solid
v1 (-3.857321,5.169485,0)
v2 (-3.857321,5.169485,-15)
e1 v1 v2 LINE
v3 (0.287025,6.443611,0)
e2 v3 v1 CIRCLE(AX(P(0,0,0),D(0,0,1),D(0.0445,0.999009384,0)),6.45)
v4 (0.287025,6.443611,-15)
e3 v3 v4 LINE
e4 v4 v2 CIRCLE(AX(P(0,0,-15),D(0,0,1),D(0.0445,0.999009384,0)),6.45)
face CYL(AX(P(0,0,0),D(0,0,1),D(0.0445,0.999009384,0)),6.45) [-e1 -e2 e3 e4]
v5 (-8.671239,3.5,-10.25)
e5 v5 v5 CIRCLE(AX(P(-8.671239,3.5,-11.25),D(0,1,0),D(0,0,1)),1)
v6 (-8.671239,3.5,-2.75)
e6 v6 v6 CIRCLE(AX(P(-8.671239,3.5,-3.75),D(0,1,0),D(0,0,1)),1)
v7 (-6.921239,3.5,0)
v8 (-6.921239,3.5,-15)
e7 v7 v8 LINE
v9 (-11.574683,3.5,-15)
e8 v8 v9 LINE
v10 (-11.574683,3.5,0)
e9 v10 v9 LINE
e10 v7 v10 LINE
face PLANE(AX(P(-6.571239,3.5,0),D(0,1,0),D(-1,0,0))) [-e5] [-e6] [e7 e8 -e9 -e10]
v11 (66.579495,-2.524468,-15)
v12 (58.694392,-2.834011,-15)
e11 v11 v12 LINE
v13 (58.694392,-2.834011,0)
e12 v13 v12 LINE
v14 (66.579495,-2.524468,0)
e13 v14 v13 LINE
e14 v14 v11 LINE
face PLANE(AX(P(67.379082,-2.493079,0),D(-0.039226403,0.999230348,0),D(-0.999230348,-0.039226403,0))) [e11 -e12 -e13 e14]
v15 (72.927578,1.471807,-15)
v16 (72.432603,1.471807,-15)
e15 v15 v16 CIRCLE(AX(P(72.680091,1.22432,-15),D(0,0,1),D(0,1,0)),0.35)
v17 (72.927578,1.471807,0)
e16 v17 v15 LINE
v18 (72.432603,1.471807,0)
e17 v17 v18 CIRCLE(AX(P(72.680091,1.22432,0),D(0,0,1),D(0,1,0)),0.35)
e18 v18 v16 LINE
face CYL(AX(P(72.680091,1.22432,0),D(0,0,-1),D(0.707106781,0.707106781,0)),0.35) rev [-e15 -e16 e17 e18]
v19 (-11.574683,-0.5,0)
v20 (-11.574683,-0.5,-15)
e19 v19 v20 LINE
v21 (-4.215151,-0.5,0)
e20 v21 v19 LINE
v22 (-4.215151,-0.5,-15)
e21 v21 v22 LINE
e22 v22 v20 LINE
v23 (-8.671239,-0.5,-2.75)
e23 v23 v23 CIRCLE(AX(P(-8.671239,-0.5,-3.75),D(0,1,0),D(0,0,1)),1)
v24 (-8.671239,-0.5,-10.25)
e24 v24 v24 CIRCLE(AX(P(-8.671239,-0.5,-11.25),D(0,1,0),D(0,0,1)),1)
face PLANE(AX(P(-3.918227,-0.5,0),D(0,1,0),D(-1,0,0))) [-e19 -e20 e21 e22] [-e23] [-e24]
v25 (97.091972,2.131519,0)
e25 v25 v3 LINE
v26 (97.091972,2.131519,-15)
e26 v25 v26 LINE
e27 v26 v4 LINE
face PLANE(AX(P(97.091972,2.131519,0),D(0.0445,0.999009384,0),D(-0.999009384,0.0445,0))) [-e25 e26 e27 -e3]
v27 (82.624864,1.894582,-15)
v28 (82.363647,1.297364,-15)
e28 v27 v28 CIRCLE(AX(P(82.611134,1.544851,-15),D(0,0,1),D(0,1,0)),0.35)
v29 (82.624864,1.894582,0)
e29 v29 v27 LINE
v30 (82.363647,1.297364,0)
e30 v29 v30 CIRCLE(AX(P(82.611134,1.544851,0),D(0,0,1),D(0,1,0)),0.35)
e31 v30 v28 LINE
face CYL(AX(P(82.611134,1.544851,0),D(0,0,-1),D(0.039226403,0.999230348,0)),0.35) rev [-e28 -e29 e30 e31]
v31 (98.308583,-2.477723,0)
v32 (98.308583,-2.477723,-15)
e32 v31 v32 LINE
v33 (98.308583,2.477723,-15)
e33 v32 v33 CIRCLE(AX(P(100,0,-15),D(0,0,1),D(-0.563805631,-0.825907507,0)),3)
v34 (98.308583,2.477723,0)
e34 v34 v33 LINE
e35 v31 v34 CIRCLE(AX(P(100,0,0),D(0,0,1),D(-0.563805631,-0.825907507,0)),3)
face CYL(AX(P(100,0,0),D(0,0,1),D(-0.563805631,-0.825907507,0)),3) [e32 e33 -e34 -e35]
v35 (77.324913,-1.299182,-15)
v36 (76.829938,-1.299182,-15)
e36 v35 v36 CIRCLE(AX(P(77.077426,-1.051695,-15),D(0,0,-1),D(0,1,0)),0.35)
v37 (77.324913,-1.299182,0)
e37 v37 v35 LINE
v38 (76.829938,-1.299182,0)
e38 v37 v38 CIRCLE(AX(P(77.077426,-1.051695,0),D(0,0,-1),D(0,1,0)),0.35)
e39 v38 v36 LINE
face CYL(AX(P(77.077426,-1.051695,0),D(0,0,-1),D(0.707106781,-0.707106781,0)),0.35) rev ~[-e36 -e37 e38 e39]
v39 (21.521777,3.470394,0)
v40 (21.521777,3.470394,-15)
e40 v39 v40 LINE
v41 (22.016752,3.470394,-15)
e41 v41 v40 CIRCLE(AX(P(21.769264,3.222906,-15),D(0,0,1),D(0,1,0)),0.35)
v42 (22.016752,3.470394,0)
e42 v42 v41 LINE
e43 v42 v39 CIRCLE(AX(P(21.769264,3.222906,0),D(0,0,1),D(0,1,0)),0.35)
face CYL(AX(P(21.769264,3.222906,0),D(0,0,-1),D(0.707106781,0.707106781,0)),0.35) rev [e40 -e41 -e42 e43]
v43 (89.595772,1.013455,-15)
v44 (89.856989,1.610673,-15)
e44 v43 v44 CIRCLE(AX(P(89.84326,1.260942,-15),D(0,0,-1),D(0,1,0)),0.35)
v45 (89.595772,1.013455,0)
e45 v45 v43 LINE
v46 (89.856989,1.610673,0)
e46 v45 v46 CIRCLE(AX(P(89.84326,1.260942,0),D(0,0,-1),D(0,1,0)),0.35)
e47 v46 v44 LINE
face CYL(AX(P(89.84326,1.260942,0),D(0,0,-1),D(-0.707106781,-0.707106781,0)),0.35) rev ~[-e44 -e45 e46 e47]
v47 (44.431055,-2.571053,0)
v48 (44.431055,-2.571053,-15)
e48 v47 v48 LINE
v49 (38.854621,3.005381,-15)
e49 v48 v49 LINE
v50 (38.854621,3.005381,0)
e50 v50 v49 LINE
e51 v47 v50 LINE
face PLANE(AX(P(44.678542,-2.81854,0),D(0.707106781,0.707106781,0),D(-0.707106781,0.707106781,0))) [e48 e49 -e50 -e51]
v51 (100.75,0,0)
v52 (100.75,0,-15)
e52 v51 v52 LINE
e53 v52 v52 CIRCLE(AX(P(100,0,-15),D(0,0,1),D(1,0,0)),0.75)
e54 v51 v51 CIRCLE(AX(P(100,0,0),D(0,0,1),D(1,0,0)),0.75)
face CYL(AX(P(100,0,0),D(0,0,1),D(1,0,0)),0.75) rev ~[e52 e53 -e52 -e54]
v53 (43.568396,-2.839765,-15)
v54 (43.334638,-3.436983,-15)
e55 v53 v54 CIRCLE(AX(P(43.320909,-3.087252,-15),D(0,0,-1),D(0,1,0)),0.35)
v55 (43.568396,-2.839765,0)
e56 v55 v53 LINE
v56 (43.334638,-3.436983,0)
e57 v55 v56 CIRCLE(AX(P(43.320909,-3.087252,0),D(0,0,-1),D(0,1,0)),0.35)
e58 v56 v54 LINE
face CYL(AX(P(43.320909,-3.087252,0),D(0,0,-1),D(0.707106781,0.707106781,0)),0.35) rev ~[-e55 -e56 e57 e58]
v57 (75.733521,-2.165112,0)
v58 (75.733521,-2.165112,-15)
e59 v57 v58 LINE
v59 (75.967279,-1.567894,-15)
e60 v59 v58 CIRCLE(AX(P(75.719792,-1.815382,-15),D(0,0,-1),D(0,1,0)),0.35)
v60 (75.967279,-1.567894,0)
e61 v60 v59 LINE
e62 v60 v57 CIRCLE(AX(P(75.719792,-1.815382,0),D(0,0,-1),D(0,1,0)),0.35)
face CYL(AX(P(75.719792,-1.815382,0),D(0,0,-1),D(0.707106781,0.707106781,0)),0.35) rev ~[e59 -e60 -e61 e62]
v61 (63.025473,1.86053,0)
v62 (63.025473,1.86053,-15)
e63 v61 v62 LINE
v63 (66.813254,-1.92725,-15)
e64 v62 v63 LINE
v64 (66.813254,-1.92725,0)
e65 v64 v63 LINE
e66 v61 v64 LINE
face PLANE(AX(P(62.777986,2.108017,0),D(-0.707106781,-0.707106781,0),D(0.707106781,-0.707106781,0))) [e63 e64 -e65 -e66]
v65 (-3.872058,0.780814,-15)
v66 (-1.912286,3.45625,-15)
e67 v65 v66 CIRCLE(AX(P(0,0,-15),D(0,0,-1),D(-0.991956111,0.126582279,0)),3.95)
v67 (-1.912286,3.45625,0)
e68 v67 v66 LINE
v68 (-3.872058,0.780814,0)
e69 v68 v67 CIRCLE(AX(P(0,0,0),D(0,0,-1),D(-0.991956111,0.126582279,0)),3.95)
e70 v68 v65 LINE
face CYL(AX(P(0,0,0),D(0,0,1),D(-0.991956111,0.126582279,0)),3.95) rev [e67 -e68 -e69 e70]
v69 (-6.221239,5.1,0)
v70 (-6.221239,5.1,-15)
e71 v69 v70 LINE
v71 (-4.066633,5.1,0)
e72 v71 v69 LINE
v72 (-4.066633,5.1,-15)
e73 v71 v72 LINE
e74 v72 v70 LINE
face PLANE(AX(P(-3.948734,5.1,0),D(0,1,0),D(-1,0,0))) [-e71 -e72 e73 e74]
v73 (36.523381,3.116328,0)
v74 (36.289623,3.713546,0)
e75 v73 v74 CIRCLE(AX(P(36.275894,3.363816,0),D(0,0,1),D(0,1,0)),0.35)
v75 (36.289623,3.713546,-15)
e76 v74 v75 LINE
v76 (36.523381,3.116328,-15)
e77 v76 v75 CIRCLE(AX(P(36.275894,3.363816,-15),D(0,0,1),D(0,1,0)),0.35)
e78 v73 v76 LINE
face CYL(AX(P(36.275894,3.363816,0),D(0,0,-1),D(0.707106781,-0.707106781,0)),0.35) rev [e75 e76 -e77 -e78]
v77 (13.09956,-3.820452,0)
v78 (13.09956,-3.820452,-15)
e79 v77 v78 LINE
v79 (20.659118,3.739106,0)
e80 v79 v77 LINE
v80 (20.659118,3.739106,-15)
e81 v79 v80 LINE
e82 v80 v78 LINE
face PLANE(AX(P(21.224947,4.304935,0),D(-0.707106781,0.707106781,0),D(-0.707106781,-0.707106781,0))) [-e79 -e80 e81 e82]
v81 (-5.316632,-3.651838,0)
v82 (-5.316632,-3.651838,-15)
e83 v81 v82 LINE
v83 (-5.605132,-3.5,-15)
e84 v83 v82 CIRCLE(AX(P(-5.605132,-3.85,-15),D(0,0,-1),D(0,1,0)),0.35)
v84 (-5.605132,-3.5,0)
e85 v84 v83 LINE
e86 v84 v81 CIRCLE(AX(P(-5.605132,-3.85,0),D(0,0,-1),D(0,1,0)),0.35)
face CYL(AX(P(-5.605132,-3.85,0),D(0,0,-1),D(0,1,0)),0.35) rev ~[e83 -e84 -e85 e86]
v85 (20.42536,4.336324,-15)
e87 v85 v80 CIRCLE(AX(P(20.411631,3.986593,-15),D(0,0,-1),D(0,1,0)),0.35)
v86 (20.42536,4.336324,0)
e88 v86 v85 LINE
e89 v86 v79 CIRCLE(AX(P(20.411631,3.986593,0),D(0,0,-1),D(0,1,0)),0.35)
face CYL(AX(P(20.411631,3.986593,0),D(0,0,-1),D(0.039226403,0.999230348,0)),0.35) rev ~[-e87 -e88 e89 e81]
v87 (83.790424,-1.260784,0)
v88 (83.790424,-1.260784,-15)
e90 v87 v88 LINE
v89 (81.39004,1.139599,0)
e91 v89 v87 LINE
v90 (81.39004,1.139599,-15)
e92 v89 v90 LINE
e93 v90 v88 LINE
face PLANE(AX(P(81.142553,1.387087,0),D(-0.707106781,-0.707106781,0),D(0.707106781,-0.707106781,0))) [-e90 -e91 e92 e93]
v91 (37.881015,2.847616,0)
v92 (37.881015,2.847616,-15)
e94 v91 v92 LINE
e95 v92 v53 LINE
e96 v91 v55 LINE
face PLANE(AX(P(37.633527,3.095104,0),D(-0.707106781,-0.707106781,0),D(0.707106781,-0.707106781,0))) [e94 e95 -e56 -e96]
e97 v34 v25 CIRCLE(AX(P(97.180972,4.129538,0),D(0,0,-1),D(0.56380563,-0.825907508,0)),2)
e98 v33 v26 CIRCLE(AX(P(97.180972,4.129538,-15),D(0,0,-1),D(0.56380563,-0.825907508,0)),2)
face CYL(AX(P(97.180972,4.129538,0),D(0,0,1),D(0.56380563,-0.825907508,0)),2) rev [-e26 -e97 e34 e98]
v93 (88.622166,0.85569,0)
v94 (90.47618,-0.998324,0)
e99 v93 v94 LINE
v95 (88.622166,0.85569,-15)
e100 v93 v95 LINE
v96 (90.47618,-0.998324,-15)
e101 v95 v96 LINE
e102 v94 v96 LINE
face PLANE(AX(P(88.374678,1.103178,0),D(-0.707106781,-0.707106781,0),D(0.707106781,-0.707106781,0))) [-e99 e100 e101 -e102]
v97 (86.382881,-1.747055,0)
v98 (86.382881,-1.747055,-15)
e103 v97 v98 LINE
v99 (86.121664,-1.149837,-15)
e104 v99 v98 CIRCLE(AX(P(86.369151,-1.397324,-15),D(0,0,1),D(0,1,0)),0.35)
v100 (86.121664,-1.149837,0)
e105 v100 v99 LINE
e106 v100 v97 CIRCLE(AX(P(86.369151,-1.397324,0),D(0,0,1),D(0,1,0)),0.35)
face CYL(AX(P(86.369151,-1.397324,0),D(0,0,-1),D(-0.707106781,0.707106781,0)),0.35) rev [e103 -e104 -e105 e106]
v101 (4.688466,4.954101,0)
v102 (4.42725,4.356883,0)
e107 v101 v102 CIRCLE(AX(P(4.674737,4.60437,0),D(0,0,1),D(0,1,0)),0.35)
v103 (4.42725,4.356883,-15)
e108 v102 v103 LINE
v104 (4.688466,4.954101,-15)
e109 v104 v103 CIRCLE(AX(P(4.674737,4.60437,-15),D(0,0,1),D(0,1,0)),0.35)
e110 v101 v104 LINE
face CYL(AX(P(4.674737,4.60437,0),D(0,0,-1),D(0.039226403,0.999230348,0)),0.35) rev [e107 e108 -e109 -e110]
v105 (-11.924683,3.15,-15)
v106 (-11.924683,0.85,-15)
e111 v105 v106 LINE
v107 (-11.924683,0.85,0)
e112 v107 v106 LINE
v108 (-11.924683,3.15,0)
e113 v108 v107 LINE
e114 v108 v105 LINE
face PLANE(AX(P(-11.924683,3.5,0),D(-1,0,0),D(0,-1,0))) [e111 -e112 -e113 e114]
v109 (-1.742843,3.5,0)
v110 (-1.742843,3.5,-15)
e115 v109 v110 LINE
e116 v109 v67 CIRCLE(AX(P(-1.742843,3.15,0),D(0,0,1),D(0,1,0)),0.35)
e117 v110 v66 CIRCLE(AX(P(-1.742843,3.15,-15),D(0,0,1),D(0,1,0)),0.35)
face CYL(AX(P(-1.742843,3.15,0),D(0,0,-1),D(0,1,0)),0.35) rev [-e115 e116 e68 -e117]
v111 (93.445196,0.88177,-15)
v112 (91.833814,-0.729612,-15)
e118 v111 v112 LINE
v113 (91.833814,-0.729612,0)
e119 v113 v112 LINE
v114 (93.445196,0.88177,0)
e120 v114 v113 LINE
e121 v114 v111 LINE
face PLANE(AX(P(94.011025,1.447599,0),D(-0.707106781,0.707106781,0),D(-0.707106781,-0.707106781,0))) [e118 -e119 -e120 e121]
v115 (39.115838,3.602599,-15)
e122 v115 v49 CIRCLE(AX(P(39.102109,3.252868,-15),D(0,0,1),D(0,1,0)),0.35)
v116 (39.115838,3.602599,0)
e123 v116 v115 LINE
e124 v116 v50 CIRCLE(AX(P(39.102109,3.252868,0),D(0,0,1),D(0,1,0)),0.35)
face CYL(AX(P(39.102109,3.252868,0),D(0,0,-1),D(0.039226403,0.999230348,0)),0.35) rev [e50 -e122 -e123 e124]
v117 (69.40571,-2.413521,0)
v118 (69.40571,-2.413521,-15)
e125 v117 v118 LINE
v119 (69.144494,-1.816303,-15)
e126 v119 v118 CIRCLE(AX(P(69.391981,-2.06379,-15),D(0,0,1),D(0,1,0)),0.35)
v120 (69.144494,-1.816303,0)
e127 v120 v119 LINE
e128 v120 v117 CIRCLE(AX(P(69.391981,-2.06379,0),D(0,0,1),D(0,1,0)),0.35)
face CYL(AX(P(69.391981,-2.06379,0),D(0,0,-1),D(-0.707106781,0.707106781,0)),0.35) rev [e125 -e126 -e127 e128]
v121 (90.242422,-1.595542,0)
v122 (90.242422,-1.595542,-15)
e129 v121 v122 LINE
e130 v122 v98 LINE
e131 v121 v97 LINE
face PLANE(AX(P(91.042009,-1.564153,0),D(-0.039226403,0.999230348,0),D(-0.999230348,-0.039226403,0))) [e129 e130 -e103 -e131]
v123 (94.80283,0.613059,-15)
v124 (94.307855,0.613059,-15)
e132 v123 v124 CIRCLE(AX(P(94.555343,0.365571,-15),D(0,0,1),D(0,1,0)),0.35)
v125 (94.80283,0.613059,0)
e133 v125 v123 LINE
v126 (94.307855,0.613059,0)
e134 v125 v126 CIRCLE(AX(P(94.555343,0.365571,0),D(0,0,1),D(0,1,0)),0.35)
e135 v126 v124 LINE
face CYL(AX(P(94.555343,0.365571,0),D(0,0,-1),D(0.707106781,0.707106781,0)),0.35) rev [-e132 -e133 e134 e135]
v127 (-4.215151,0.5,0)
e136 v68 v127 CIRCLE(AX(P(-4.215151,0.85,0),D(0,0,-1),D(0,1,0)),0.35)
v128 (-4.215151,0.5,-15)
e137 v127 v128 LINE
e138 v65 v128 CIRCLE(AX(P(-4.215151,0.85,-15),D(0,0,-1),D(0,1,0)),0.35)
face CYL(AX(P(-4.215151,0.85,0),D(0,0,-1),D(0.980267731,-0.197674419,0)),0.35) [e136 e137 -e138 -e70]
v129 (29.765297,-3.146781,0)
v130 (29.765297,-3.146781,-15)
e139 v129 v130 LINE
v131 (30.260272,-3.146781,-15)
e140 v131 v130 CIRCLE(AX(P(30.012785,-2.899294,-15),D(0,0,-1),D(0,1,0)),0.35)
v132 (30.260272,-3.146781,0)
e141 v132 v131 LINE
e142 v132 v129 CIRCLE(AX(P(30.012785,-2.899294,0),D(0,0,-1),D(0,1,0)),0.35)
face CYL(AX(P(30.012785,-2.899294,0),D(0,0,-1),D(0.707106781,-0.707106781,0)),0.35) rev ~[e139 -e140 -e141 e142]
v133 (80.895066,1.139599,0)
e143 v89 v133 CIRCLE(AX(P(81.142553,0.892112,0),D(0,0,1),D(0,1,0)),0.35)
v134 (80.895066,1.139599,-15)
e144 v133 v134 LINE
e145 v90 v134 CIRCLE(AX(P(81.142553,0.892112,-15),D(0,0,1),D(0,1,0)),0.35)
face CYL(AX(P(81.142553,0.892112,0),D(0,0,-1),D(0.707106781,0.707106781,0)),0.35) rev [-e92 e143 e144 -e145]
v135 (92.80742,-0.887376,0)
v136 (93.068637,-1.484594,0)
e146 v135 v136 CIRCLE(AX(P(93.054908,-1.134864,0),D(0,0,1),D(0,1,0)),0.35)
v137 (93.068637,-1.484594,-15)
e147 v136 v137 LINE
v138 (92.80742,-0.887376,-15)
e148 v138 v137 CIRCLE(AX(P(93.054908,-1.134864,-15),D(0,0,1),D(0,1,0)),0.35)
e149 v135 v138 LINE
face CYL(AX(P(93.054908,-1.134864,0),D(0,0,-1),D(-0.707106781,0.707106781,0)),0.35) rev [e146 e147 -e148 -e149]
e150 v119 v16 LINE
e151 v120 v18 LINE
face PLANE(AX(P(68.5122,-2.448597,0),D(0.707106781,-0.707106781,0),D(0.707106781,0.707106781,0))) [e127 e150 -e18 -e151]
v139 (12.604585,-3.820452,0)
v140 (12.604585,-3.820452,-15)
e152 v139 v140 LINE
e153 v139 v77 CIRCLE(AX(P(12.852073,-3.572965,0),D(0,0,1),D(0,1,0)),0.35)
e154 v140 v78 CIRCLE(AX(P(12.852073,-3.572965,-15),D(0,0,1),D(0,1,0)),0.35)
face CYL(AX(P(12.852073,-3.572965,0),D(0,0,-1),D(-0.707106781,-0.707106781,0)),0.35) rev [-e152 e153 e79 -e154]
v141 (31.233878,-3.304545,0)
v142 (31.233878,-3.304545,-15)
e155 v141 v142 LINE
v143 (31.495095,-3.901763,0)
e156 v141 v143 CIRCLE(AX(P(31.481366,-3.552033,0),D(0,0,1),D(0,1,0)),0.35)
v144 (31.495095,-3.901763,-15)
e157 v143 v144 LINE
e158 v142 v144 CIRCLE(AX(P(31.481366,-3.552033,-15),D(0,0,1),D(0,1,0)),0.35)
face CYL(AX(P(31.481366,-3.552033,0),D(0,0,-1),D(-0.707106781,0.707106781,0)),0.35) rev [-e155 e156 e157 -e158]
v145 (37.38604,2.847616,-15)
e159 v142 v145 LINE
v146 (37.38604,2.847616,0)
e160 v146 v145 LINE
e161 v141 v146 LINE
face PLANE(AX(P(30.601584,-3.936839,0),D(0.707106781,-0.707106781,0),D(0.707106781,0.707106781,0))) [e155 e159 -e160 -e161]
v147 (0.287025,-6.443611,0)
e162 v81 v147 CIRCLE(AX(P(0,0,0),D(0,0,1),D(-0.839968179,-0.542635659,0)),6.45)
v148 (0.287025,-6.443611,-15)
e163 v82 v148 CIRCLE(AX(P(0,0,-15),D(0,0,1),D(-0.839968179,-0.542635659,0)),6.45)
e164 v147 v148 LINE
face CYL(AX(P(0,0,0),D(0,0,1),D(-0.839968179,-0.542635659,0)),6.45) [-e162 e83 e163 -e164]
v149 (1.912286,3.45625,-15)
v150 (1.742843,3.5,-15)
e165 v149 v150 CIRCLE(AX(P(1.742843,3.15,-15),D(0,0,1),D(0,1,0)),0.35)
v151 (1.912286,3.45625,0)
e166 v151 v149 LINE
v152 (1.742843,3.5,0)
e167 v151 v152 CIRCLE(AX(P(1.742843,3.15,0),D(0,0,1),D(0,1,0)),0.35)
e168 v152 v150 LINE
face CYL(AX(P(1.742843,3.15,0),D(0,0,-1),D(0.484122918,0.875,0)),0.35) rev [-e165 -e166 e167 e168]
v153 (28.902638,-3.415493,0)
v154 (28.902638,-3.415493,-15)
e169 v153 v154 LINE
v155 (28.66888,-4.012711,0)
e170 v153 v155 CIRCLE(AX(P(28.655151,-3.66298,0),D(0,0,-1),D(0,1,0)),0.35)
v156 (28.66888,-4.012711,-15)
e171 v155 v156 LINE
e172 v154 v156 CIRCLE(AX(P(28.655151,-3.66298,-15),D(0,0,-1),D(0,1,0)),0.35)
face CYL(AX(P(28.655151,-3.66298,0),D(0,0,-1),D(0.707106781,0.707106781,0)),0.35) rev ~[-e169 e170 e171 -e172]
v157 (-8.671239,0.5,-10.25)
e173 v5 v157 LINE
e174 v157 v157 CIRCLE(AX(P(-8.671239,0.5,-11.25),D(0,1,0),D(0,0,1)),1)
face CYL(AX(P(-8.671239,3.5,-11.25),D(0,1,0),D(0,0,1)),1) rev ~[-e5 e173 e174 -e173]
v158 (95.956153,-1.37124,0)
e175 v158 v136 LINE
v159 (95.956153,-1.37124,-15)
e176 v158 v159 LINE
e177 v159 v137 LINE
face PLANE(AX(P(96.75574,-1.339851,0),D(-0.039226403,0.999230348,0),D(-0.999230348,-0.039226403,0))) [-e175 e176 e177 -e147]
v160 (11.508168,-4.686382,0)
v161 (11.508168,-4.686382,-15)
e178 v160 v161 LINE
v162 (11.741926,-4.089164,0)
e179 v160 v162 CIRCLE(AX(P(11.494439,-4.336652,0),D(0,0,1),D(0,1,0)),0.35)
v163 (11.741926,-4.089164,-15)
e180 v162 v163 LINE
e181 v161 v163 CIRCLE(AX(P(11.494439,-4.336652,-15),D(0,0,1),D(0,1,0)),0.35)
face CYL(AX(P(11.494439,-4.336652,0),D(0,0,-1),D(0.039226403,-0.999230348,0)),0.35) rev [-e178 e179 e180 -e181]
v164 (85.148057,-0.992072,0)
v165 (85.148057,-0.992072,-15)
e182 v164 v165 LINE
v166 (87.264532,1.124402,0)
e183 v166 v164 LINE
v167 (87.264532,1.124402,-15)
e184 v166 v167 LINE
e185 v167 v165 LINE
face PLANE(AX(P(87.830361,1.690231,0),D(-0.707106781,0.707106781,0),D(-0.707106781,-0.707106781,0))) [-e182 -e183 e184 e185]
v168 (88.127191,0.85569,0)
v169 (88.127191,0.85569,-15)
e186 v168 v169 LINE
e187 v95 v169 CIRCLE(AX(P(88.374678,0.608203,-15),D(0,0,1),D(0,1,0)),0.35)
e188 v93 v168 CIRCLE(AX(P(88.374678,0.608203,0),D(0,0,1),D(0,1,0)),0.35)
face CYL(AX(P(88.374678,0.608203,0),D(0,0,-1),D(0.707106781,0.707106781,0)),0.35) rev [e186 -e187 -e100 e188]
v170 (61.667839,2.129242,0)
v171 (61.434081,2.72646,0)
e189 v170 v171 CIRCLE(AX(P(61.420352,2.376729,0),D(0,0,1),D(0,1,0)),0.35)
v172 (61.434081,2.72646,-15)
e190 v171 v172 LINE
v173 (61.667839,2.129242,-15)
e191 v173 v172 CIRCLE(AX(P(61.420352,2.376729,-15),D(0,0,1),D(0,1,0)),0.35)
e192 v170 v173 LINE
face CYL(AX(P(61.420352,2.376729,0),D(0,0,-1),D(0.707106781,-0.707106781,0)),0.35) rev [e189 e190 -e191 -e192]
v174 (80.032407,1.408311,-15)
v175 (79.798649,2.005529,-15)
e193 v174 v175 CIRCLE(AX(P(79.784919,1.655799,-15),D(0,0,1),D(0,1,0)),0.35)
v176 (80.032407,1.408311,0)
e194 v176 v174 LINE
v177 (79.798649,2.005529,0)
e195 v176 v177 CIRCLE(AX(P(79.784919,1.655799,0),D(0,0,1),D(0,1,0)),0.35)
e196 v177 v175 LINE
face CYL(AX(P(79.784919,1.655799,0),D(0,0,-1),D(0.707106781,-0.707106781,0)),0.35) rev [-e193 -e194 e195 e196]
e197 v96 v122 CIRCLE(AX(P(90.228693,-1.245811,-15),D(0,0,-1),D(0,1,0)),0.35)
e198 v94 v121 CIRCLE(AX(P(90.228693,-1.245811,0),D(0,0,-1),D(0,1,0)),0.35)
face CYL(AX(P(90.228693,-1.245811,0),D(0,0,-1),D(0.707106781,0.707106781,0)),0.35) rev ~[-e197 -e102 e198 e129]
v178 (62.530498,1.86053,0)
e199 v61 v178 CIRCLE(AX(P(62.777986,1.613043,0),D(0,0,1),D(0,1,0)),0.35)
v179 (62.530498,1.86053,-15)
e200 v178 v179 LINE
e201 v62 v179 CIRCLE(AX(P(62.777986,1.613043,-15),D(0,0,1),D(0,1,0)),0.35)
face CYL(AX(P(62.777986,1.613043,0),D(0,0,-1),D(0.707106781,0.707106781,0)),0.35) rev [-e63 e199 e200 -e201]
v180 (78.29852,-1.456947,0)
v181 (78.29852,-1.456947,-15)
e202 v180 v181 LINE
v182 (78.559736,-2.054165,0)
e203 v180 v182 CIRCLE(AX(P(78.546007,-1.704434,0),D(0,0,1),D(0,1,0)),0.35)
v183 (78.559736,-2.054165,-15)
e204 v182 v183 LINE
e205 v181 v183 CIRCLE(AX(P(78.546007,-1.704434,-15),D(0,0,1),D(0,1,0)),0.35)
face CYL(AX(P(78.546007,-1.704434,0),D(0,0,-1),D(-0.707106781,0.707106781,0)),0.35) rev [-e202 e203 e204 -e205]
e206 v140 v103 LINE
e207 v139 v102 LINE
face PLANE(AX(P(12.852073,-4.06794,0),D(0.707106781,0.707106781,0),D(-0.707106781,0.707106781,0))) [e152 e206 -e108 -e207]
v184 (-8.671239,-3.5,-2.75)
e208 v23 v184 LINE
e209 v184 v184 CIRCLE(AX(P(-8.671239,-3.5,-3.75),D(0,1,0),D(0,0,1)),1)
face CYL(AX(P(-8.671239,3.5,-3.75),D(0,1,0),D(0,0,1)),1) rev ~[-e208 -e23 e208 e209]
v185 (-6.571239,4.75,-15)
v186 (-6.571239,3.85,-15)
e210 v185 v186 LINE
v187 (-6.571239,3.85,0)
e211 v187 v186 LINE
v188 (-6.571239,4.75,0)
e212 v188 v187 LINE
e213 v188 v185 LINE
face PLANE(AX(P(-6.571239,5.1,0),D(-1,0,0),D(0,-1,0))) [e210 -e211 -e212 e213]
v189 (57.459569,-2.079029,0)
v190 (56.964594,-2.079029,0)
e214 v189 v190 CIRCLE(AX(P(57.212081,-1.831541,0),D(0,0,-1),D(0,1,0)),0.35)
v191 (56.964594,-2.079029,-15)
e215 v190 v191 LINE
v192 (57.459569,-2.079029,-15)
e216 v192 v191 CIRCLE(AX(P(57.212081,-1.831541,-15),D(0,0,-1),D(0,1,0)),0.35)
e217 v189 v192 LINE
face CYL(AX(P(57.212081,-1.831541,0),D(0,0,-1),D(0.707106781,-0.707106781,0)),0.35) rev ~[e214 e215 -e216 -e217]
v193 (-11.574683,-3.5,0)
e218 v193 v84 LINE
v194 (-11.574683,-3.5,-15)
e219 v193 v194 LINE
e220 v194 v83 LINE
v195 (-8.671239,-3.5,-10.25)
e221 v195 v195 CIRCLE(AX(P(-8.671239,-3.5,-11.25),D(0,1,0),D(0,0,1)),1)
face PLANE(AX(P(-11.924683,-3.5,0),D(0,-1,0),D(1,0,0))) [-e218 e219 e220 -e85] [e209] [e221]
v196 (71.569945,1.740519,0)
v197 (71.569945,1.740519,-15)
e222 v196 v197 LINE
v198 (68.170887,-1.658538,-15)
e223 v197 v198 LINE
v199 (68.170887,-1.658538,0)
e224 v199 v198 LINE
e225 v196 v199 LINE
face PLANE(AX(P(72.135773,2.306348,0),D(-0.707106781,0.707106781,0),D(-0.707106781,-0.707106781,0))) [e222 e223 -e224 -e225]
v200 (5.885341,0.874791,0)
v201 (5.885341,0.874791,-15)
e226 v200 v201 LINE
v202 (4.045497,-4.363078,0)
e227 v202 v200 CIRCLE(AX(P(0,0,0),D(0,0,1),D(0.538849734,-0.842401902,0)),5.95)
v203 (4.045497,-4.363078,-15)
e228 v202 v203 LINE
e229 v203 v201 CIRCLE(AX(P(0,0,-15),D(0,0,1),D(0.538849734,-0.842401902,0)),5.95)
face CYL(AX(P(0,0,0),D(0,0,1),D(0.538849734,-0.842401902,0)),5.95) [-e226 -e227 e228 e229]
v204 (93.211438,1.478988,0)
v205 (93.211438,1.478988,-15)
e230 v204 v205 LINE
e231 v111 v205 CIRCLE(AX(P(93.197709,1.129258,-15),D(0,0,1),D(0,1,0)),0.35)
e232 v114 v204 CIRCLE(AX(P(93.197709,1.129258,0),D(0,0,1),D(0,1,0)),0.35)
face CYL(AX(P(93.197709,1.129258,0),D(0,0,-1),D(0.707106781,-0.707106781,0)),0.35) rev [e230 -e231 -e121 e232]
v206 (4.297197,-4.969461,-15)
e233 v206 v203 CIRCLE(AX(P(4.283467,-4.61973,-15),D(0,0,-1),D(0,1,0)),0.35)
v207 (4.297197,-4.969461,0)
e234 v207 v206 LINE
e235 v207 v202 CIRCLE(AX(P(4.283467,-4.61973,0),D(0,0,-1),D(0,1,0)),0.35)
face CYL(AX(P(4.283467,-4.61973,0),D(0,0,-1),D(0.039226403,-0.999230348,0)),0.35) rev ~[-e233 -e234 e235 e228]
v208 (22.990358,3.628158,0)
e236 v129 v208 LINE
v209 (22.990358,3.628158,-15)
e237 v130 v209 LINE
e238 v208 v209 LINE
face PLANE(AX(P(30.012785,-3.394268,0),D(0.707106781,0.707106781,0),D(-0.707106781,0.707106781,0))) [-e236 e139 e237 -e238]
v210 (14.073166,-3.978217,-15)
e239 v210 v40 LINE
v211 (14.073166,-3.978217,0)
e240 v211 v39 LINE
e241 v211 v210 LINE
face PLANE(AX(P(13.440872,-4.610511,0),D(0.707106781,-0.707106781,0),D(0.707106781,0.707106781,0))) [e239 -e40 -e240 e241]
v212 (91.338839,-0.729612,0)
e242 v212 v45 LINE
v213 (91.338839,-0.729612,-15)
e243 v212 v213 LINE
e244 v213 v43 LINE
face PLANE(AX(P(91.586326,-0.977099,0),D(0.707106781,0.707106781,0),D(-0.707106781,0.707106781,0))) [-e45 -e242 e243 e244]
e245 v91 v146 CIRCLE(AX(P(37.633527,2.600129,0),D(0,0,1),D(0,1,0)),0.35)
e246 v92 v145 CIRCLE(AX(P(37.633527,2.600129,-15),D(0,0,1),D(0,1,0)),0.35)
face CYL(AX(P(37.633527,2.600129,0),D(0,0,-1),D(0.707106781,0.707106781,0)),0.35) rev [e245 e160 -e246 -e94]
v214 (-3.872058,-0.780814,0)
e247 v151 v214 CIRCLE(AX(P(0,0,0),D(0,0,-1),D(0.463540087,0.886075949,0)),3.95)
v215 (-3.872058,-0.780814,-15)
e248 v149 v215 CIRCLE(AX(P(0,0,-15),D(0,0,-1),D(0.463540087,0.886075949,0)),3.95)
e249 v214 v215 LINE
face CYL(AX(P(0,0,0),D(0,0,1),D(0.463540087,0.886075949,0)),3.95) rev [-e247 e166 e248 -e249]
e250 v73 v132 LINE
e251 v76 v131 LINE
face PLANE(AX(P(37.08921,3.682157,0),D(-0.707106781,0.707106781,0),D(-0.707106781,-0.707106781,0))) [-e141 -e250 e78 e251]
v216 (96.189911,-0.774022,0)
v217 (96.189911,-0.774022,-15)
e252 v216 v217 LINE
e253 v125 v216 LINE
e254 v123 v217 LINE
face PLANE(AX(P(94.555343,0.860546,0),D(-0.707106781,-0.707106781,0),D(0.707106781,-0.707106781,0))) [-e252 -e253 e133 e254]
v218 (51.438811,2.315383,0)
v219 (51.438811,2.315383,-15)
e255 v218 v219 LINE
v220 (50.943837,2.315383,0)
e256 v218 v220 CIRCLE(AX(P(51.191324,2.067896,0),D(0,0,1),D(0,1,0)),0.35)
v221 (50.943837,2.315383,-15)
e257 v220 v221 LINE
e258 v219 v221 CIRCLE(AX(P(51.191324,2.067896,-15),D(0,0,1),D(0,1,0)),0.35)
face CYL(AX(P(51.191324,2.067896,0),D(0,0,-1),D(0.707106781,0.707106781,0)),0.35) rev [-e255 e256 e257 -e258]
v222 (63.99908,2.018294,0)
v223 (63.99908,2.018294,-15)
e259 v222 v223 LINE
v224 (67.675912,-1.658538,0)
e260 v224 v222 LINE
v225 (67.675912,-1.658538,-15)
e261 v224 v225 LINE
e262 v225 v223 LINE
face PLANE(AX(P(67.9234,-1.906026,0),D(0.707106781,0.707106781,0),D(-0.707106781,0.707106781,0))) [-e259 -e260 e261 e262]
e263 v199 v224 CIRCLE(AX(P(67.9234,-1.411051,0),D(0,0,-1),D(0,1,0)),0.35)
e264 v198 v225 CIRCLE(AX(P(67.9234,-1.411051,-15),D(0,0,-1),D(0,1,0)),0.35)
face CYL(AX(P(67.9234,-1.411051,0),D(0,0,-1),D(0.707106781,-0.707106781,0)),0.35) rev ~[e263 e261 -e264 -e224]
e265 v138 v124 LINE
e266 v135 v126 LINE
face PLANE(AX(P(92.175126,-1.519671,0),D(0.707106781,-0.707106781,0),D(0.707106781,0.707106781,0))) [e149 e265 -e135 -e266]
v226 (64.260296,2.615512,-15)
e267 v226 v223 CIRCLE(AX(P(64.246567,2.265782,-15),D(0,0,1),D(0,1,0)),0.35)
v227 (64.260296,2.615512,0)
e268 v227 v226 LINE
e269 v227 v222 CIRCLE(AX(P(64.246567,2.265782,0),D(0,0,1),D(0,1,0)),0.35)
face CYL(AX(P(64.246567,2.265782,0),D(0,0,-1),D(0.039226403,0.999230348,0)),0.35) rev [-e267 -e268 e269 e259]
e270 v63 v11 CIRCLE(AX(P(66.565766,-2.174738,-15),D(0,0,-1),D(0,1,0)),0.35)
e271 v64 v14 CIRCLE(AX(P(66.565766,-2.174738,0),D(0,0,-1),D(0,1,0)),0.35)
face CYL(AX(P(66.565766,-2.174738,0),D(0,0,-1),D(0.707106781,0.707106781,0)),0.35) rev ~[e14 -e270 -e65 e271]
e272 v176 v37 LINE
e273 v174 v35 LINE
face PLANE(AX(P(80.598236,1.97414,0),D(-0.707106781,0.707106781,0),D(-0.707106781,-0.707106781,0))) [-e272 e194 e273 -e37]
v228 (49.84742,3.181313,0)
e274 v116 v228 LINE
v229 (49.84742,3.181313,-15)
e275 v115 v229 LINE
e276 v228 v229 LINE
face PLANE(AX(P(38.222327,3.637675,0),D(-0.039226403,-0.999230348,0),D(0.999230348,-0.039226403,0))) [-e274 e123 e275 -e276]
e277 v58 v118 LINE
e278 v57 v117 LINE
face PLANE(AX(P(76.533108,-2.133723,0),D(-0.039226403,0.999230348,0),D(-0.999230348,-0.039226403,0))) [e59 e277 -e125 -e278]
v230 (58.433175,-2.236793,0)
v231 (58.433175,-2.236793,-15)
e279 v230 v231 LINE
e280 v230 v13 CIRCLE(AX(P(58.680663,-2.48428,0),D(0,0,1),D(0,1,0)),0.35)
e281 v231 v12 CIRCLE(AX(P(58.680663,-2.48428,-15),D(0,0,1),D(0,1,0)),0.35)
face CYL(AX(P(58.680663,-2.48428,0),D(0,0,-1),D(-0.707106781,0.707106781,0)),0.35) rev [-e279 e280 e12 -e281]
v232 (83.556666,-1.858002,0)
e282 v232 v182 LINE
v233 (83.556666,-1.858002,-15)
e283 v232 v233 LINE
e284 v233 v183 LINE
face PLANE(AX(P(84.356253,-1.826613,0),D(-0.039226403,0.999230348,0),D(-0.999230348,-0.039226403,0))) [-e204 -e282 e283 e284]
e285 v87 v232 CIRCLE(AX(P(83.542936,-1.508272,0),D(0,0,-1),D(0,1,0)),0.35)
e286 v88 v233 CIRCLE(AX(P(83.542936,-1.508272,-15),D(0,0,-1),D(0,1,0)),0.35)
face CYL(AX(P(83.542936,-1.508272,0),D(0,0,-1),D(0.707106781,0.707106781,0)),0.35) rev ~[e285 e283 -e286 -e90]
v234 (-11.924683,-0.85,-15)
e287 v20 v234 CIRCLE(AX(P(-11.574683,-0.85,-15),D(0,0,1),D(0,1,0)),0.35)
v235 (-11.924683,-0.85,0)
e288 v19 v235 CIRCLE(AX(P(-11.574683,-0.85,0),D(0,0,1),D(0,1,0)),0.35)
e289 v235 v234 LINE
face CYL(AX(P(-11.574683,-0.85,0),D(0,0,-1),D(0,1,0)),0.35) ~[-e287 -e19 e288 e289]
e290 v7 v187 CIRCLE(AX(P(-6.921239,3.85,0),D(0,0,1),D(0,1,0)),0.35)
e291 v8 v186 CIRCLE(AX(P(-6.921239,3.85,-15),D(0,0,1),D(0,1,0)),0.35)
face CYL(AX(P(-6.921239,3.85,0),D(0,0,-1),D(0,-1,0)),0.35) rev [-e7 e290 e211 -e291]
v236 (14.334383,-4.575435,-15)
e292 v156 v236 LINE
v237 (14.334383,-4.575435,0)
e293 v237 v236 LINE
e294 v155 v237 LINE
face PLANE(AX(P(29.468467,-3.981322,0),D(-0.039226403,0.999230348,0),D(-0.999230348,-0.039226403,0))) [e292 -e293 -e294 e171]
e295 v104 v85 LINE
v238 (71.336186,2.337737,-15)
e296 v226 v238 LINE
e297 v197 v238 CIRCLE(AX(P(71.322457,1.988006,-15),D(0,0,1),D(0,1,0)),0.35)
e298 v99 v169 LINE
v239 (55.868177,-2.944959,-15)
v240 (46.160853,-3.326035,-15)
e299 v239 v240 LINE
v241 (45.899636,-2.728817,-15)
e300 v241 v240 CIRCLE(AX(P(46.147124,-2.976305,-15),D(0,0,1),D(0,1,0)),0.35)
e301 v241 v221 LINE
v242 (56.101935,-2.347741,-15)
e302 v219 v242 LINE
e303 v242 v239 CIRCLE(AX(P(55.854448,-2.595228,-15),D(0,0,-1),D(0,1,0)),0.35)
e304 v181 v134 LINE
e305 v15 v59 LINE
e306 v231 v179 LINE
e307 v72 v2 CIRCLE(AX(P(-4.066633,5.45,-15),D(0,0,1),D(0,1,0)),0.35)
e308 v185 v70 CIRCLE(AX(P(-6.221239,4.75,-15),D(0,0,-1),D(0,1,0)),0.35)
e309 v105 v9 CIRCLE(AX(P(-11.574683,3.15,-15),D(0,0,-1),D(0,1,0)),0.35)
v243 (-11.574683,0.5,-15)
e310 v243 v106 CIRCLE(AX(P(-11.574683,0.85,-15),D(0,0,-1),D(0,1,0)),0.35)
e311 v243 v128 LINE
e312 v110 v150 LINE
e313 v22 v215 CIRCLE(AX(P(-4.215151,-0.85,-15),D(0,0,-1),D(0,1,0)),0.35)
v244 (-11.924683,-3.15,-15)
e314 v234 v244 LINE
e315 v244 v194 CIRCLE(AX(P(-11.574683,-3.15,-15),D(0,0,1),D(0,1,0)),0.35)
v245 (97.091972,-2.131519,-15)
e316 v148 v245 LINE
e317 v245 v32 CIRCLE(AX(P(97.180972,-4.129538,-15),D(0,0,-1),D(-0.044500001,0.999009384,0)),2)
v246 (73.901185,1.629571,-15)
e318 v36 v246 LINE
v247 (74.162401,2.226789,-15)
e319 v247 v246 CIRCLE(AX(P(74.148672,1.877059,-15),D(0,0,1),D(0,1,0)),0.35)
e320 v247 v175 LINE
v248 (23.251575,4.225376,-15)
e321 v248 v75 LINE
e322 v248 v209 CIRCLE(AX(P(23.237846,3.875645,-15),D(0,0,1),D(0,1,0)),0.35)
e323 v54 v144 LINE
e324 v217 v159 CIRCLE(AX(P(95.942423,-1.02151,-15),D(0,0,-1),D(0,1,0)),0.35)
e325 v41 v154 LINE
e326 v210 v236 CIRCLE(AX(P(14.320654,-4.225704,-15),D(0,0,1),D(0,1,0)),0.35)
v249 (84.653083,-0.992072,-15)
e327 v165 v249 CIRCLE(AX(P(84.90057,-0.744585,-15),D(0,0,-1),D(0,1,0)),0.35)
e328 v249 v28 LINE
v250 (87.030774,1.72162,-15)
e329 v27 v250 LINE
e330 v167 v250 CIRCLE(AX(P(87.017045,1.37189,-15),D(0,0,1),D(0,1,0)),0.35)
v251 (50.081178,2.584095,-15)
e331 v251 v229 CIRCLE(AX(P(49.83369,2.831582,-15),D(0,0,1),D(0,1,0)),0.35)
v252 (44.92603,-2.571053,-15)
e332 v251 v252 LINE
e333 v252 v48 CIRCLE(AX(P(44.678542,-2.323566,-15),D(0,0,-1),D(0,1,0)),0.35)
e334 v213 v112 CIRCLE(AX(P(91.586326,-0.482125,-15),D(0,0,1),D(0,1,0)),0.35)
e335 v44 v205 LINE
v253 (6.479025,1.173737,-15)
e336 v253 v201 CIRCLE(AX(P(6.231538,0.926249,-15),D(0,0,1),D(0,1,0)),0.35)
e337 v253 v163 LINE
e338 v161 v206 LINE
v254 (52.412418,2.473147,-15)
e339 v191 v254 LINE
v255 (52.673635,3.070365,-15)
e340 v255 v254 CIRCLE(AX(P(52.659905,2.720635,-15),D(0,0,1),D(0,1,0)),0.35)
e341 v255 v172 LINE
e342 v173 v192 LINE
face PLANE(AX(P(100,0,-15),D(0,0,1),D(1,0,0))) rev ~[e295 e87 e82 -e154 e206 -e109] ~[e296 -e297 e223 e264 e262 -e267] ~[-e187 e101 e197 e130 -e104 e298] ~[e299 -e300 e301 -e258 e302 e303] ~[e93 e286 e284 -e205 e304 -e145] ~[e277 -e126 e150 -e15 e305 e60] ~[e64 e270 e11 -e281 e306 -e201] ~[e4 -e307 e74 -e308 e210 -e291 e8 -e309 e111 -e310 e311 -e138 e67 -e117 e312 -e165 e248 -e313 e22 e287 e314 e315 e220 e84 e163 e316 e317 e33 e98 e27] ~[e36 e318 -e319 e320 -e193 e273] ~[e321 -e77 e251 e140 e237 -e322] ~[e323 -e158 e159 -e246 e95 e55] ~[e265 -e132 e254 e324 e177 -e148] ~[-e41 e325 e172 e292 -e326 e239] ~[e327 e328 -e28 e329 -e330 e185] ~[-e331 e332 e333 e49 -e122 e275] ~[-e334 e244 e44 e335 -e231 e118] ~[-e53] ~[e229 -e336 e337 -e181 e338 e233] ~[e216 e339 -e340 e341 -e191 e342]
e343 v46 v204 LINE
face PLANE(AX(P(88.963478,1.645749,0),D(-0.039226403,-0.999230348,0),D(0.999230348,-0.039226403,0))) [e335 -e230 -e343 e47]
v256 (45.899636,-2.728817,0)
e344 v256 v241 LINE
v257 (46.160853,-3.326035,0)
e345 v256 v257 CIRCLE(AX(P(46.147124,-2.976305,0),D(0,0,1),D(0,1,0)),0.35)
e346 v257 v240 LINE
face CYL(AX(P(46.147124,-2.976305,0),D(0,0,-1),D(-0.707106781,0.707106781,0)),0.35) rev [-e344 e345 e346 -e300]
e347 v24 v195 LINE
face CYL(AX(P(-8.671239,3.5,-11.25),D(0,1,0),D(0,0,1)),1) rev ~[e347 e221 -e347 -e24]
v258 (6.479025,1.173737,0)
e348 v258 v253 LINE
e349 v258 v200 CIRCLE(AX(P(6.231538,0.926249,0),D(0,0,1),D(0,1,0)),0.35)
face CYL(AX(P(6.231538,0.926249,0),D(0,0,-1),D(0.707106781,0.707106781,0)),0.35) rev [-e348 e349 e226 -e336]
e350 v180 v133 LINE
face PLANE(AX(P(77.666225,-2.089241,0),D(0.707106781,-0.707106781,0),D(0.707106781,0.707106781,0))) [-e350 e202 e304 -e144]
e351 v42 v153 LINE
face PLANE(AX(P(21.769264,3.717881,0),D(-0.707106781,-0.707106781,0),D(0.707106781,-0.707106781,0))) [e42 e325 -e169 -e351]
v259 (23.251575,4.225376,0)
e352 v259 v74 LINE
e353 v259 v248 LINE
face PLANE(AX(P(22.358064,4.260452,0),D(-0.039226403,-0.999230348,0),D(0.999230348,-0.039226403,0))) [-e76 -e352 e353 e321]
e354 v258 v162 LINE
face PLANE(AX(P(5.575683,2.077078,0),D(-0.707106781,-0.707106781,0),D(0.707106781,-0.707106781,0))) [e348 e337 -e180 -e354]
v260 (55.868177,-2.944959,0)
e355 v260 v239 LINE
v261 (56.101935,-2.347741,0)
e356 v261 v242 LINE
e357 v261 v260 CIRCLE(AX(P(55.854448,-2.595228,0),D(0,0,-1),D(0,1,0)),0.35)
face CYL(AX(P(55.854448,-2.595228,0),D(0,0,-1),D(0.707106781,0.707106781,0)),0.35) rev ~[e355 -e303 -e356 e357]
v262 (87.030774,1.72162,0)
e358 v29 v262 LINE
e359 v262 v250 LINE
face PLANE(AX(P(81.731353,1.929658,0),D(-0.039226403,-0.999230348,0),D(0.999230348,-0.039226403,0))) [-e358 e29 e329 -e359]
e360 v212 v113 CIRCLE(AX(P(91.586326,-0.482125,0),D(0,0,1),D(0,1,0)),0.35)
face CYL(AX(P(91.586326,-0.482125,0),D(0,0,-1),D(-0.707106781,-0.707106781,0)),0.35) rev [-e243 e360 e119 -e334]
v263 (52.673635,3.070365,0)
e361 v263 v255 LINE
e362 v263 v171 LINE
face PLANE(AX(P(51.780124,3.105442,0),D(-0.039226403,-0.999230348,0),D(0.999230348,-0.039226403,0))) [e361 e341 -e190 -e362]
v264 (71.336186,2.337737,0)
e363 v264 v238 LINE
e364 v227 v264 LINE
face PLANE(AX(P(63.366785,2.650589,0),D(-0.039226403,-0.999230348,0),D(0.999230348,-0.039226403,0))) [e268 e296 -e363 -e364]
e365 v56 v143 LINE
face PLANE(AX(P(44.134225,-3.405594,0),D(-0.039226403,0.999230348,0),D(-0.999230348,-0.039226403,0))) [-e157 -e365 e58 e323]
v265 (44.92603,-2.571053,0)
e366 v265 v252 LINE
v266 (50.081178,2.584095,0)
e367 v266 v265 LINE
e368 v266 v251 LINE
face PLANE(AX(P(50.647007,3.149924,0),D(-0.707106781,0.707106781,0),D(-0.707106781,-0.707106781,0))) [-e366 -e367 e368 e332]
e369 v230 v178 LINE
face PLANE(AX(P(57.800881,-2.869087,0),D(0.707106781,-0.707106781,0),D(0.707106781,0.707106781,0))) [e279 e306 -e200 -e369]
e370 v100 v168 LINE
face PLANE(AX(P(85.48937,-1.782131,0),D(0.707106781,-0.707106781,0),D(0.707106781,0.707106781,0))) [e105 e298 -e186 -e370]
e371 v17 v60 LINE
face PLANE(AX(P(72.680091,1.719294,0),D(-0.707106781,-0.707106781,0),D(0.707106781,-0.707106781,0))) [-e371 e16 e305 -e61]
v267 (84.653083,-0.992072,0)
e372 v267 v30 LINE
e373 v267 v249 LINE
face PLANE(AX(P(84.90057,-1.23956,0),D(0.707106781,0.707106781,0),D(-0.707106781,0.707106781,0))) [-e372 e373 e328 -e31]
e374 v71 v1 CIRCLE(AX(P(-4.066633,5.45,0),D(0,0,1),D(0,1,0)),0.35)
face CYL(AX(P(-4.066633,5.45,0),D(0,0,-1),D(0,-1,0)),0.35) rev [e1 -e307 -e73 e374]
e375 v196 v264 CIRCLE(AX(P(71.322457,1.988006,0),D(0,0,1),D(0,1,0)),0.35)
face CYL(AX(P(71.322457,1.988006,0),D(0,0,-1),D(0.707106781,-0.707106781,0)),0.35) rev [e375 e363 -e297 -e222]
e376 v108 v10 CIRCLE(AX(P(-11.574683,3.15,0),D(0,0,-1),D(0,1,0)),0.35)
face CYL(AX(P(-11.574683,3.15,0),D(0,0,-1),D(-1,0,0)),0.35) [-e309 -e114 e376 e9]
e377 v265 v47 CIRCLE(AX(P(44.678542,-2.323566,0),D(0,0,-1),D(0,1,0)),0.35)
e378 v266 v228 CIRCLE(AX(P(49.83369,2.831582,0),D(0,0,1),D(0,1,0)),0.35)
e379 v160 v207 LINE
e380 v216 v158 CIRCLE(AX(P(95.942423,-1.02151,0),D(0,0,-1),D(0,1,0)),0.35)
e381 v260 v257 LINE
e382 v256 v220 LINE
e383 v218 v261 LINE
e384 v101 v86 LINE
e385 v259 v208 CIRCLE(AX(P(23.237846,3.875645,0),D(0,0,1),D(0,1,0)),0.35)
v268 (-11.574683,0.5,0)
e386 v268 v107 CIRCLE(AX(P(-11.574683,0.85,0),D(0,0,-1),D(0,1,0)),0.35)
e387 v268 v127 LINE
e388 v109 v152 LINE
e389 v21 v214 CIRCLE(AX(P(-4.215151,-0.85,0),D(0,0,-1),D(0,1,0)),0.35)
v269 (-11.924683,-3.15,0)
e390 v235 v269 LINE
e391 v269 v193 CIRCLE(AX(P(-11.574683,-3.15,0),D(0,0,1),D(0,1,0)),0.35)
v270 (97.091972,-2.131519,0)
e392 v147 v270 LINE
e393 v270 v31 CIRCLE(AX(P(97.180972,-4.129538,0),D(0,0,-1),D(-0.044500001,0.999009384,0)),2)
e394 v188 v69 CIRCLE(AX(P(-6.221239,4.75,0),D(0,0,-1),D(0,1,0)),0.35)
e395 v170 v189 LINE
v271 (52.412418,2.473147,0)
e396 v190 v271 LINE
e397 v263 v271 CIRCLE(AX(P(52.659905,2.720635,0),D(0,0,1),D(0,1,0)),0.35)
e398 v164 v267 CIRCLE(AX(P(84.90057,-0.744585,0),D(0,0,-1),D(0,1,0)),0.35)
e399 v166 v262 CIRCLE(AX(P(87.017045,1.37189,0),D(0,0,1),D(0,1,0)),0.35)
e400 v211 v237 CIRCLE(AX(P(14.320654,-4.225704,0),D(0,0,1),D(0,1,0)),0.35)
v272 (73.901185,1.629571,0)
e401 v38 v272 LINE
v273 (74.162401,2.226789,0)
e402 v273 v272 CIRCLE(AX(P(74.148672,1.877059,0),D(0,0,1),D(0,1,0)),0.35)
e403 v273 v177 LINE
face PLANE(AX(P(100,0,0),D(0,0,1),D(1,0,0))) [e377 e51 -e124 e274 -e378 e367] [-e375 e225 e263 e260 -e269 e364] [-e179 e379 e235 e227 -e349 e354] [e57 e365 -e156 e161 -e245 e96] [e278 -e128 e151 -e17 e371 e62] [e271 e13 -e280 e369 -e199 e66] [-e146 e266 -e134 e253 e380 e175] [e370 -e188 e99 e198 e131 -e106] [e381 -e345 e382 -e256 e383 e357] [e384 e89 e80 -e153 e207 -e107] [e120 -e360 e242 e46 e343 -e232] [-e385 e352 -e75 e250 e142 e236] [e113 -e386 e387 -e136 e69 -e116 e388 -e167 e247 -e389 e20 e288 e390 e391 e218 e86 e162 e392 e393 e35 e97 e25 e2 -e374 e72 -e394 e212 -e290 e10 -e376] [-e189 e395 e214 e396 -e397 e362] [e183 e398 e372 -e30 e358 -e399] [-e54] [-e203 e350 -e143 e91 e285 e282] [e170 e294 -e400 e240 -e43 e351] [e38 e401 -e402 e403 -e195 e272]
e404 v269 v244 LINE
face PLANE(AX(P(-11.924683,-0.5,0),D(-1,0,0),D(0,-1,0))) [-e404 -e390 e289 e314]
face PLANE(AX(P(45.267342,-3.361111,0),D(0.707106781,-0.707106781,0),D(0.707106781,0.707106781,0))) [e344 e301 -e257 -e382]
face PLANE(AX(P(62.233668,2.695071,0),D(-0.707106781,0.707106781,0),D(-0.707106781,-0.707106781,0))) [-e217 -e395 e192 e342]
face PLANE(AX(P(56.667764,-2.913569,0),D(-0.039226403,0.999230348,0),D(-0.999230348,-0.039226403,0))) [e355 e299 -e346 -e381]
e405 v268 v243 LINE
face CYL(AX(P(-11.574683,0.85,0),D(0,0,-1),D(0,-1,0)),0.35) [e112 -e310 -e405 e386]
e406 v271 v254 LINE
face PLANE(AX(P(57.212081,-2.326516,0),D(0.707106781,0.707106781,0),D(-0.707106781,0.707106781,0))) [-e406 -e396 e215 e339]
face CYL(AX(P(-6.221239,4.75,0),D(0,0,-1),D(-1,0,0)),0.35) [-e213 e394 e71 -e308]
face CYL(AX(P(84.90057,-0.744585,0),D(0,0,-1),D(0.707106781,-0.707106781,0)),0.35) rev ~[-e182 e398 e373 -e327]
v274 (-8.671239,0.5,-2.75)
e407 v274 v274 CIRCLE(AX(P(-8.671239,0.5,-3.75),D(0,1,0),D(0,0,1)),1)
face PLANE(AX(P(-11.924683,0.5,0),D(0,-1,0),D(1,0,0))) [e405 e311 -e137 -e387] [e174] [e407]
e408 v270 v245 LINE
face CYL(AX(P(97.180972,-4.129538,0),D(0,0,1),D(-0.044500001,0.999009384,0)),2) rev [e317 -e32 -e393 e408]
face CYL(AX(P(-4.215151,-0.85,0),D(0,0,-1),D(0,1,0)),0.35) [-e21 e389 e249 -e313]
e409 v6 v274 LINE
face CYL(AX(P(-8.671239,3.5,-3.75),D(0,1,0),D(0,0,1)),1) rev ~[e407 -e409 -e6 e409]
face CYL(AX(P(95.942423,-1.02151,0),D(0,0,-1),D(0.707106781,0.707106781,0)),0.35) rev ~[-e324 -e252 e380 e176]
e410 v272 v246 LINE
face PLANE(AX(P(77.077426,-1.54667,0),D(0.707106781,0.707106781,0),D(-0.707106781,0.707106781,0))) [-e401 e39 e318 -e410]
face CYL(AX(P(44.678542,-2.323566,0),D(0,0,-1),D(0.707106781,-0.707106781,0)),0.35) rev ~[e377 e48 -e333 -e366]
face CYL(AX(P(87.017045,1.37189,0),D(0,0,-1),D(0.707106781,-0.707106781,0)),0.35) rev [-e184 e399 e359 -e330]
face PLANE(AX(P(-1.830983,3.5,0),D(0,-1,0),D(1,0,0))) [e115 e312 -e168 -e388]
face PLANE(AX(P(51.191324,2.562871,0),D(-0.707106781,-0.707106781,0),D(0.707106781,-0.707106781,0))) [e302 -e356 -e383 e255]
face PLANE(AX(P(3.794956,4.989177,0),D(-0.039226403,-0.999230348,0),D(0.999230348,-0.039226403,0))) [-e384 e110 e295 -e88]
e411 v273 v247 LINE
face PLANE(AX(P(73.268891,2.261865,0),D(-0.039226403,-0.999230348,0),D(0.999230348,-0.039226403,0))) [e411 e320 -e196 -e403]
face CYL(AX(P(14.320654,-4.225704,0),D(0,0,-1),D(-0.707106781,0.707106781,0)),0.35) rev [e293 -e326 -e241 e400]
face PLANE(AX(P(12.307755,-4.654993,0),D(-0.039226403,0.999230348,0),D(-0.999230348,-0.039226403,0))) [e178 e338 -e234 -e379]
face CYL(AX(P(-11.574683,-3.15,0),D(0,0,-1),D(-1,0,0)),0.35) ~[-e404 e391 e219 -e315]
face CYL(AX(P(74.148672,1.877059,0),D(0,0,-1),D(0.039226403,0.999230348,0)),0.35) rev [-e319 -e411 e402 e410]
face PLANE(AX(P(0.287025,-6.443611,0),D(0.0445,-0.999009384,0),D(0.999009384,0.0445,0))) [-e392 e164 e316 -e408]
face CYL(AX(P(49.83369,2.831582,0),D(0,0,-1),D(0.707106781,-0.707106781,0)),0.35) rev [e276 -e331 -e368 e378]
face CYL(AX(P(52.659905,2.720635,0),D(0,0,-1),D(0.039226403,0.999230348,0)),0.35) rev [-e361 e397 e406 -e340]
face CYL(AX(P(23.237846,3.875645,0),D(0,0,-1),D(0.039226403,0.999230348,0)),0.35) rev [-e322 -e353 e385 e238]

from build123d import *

# Parameters (mm, degrees)
SKETCH1_R           = 1
BOSS_EXTRUDE1_DEPTH = 15
SKETCH2_R           = 1
CUT_EXTRUDE1_DEPTH  = 105.560998943
FILLET1_R           = 0.35
SKETCH4_R           = 1
SKETCH4_R_2         = 0.75
BOSS_EXTRUDE2_DEPTH = 15


with BuildPart() as part:
    # Sketch1 → Boss-Extrude1 (new body)
    with BuildSketch(Plane.XY):
        with BuildLine():
            Line((-3.91822664, -0.5), (-11.924682731, -0.5))
            Line((-11.924682731, -0.5), (-11.924682731, -3.5))
            Line((-11.924682731, -3.5), (-5.417794754, -3.5))
            ThreePointArc((-5.417794754, -3.5), (-2.957602121, -5.731935947), (0.287025, -6.443610529))
            Line((0.287025, -6.443610529), (97.091971847, -2.131518769))
            ThreePointArc((97.091971847, -2.131518769), (97.728368045, -2.205906231), (98.308583108, -2.477722522))
            ThreePointArc((98.308583108, -2.477722522), (103, 0), (98.308583108, 2.477722522))
            ThreePointArc((98.308583108, 2.477722522), (97.728368045, 2.205906231), (97.091971847, 2.131518769))
            Line((97.091971847, 2.131518769), (0.287025, 6.443610529))
            ThreePointArc((0.287025, 6.443610529), (-1.950218056, 6.148101295), (-3.948733974, 5.1))
            Line((-3.948733974, 5.1), (-6.571238743, 5.1))
            Line((-6.571238743, 5.1), (-6.571238743, 3.5))
            Line((-6.571238743, 3.5), (-11.924682731, 3.5))
            Line((-11.924682731, 3.5), (-11.924682731, 0.5))
            Line((-11.924682731, 0.5), (-3.91822664, 0.5))
            ThreePointArc((-3.91822664, 0.5), (-3.242430239, 2.255913594), (-1.830983342, 3.5))
            Line((-1.830983342, 3.5), (1.830983342, 3.5))
            ThreePointArc((1.830983342, 3.5), (2.255913594, -3.242430239), (-3.91822664, -0.5))
        make_face()
        Polygon((88.963478068, 1.645749001), (94.011025285, 1.447599375), (91.58632649, -0.977099421), align=None, mode=Mode.SUBTRACT)
        with BuildLine():
            ThreePointArc((3.206155917, -5.012291316), (5.643134431, -1.88614257), (5.575683387, 2.077078421))
            Line((5.575683387, 2.077078421), (12.307755133, -4.654993325))
            Line((12.307755133, -4.654993325), (3.206155917, -5.012291316))
        make_face(mode=Mode.SUBTRACT)
        Polygon((29.468467153, -3.981321833), (13.440872209, -4.610510983), (21.769264256, 3.717881064), align=None, mode=Mode.SUBTRACT)
        Polygon((44.134225049, -3.405593798), (30.60158423, -3.93683949), (37.633527485, 3.095103765), align=None, mode=Mode.SUBTRACT)
        Polygon((56.667764123, -2.91356946), (45.267342125, -3.361111456), (51.191324122, 2.562870541), align=None, mode=Mode.SUBTRACT)
        Polygon((67.379082477, -2.493079343), (57.800881199, -2.869087118), (62.777985726, 2.108017409), align=None, mode=Mode.SUBTRACT)
        Polygon((76.533108343, -2.133723259), (68.512199553, -2.448597), (72.680090819, 1.719294266), align=None, mode=Mode.SUBTRACT)
        Polygon((84.356252684, -1.826613081), (77.666225419, -2.089240916), (81.142552969, 1.387086634), align=None, mode=Mode.SUBTRACT)
        Polygon((91.042009123, -1.564152904), (85.48936976, -1.782130738), (88.374678359, 1.10317786), align=None, mode=Mode.SUBTRACT)
        Polygon((96.755739716, -1.339851173), (92.175126199, -1.519670561), (94.555342652, 0.860545892), align=None, mode=Mode.SUBTRACT)
        with Locations((100, 0)):
            Circle(SKETCH1_R, mode=Mode.SUBTRACT)
        Polygon((21.224946889, 4.304934547), (12.8520725, -4.067939842), (3.794955626, 4.989177032), align=None, mode=Mode.SUBTRACT)
        Polygon((30.01278452, -3.39426835), (22.358063966, 4.260452205), (37.089210118, 3.682157248), align=None, mode=Mode.SUBTRACT)
        Polygon((44.678542416, -2.818540315), (38.222327195, 3.637674906), (50.647006755, 3.149924024), align=None, mode=Mode.SUBTRACT)
        Polygon((57.21208149, -2.326515977), (51.780123831, 3.105441681), (62.233668359, 2.695070892), align=None, mode=Mode.SUBTRACT)
        Polygon((67.923399844, -1.90602586), (63.366785435, 2.650588549), (72.135773452, 2.306347749), align=None, mode=Mode.SUBTRACT)
        Polygon((77.07742571, -1.546669776), (73.268890528, 2.261865406), (80.598235603, 1.974140117), align=None, mode=Mode.SUBTRACT)
        Polygon((84.900570051, -1.239559598), (81.731352679, 1.929657774), (87.830360992, 1.690231343), align=None, mode=Mode.SUBTRACT)
    extrude(amount=-BOSS_EXTRUDE1_DEPTH)

    # Sketch2 → Cut-Extrude1 (cut, through all)
    with BuildSketch(Plane(origin=(0, 3.5, 0), x_dir=(1, 0, 0), z_dir=(0, 1, 0))):
        with Locations(Location((-8.671238743, 11.25, 0), (0, 0, 270))):
            Circle(SKETCH2_R)
        with Locations(Location((-8.671238743, 3.75, 0), (0, 0, 270))):
            Circle(SKETCH2_R)
    extrude(amount=-CUT_EXTRUDE1_DEPTH, mode=Mode.SUBTRACT)

    # Fillet1
    fillet1_edges = [part.edges().sort_by_distance(p)[0] for p in [
        (92.175126199, -1.519670561, -7.5),
        (96.755739716, -1.339851173, -7.5),
        (94.555342652, 0.860545892, -7.5),
        (87.830360992, 1.690231343, -7.5),
        (81.731352679, 1.929657774, -7.5),
        (84.900570051, -1.239559598, -7.5),
        (88.963478068, 1.645749001, -7.5),
        (91.58632649, -0.977099421, -7.5),
        (94.011025285, 1.447599375, -7.5),
        (72.680090819, 1.719294266, -7.5),
        (68.512199553, -2.448597, -7.5),
        (76.533108343, -2.133723259, -7.5),
        (63.366785435, 2.650588549, -7.5),
        (67.923399844, -1.90602586, -7.5),
        (72.135773452, 2.306347749, -7.5),
        (57.800881199, -2.869087118, -7.5),
        (67.379082477, -2.493079343, -7.5),
        (62.777985726, 2.108017409, -7.5),
        (51.780123831, 3.105441681, -7.5),
        (57.21208149, -2.326515977, -7.5),
        (62.233668359, 2.695070892, -7.5),
        (45.267342125, -3.361111456, -7.5),
        (56.667764123, -2.91356946, -7.5),
        (51.191324122, 2.562870541, -7.5),
        (38.222327195, 3.637674906, -7.5),
        (44.678542416, -2.818540315, -7.5),
        (50.647006755, 3.149924024, -7.5),
        (30.60158423, -3.93683949, -7.5),
        (44.134225049, -3.405593798, -7.5),
        (37.633527485, 3.095103765, -7.5),
        (3.794955626, 4.989177032, -7.5),
        (12.8520725, -4.067939842, -7.5),
        (21.224946889, 4.304934547, -7.5),
        (13.440872209, -4.610510983, -7.5),
        (29.468467153, -3.981321833, -7.5),
        (21.769264256, 3.717881064, -7.5),
        (37.089210118, 3.682157248, -7.5),
        (22.358063966, 4.260452205, -7.5),
        (30.01278452, -3.39426835, -7.5),
        (73.268890528, 2.261865406, -7.5),
        (77.07742571, -1.546669776, -7.5),
        (80.598235603, 1.974140117, -7.5),
        (81.142552969, 1.387086634, -7.5),
        (77.666225419, -2.089240916, -7.5),
        (84.356252684, -1.826613081, -7.5),
        (91.042009123, -1.564152904, -7.5),
        (88.374678359, 1.10317786, -7.5),
        (85.48936976, -1.782130738, -7.5),
        (3.206155917, -5.012291316, -7.5),
        (12.307755133, -4.654993325, -7.5),
        (5.575683387, 2.077078421, -7.5),
        (-5.417794754, -3.5, -7.5),
        (-11.924682731, -3.5, -7.5),
        (-11.924682731, -0.5, -7.5),
        (-3.91822664, -0.5, -7.5),
        (1.830983342, 3.5, -7.5),
        (-1.830983342, 3.5, -7.5),
        (-3.91822664, 0.5, -7.5),
        (-11.924682731, 0.5, -7.5),
        (-11.924682731, 3.5, -7.5),
        (-6.571238743, 3.5, -7.5),
        (-6.571238743, 5.1, -7.5),
        (-3.948733974, 5.1, -7.5),
    ]]
    fillet(fillet1_edges, radius=FILLET1_R)

    # Sketch4 → Boss-Extrude2 (add)
    with BuildSketch(Plane.XY):
        with Locations((100, 0)):
            Circle(SKETCH4_R)
        with Locations((100, 0)):
            Circle(SKETCH4_R_2, mode=Mode.SUBTRACT)
    extrude(amount=-BOSS_EXTRUDE2_DEPTH)


solid = part.part
